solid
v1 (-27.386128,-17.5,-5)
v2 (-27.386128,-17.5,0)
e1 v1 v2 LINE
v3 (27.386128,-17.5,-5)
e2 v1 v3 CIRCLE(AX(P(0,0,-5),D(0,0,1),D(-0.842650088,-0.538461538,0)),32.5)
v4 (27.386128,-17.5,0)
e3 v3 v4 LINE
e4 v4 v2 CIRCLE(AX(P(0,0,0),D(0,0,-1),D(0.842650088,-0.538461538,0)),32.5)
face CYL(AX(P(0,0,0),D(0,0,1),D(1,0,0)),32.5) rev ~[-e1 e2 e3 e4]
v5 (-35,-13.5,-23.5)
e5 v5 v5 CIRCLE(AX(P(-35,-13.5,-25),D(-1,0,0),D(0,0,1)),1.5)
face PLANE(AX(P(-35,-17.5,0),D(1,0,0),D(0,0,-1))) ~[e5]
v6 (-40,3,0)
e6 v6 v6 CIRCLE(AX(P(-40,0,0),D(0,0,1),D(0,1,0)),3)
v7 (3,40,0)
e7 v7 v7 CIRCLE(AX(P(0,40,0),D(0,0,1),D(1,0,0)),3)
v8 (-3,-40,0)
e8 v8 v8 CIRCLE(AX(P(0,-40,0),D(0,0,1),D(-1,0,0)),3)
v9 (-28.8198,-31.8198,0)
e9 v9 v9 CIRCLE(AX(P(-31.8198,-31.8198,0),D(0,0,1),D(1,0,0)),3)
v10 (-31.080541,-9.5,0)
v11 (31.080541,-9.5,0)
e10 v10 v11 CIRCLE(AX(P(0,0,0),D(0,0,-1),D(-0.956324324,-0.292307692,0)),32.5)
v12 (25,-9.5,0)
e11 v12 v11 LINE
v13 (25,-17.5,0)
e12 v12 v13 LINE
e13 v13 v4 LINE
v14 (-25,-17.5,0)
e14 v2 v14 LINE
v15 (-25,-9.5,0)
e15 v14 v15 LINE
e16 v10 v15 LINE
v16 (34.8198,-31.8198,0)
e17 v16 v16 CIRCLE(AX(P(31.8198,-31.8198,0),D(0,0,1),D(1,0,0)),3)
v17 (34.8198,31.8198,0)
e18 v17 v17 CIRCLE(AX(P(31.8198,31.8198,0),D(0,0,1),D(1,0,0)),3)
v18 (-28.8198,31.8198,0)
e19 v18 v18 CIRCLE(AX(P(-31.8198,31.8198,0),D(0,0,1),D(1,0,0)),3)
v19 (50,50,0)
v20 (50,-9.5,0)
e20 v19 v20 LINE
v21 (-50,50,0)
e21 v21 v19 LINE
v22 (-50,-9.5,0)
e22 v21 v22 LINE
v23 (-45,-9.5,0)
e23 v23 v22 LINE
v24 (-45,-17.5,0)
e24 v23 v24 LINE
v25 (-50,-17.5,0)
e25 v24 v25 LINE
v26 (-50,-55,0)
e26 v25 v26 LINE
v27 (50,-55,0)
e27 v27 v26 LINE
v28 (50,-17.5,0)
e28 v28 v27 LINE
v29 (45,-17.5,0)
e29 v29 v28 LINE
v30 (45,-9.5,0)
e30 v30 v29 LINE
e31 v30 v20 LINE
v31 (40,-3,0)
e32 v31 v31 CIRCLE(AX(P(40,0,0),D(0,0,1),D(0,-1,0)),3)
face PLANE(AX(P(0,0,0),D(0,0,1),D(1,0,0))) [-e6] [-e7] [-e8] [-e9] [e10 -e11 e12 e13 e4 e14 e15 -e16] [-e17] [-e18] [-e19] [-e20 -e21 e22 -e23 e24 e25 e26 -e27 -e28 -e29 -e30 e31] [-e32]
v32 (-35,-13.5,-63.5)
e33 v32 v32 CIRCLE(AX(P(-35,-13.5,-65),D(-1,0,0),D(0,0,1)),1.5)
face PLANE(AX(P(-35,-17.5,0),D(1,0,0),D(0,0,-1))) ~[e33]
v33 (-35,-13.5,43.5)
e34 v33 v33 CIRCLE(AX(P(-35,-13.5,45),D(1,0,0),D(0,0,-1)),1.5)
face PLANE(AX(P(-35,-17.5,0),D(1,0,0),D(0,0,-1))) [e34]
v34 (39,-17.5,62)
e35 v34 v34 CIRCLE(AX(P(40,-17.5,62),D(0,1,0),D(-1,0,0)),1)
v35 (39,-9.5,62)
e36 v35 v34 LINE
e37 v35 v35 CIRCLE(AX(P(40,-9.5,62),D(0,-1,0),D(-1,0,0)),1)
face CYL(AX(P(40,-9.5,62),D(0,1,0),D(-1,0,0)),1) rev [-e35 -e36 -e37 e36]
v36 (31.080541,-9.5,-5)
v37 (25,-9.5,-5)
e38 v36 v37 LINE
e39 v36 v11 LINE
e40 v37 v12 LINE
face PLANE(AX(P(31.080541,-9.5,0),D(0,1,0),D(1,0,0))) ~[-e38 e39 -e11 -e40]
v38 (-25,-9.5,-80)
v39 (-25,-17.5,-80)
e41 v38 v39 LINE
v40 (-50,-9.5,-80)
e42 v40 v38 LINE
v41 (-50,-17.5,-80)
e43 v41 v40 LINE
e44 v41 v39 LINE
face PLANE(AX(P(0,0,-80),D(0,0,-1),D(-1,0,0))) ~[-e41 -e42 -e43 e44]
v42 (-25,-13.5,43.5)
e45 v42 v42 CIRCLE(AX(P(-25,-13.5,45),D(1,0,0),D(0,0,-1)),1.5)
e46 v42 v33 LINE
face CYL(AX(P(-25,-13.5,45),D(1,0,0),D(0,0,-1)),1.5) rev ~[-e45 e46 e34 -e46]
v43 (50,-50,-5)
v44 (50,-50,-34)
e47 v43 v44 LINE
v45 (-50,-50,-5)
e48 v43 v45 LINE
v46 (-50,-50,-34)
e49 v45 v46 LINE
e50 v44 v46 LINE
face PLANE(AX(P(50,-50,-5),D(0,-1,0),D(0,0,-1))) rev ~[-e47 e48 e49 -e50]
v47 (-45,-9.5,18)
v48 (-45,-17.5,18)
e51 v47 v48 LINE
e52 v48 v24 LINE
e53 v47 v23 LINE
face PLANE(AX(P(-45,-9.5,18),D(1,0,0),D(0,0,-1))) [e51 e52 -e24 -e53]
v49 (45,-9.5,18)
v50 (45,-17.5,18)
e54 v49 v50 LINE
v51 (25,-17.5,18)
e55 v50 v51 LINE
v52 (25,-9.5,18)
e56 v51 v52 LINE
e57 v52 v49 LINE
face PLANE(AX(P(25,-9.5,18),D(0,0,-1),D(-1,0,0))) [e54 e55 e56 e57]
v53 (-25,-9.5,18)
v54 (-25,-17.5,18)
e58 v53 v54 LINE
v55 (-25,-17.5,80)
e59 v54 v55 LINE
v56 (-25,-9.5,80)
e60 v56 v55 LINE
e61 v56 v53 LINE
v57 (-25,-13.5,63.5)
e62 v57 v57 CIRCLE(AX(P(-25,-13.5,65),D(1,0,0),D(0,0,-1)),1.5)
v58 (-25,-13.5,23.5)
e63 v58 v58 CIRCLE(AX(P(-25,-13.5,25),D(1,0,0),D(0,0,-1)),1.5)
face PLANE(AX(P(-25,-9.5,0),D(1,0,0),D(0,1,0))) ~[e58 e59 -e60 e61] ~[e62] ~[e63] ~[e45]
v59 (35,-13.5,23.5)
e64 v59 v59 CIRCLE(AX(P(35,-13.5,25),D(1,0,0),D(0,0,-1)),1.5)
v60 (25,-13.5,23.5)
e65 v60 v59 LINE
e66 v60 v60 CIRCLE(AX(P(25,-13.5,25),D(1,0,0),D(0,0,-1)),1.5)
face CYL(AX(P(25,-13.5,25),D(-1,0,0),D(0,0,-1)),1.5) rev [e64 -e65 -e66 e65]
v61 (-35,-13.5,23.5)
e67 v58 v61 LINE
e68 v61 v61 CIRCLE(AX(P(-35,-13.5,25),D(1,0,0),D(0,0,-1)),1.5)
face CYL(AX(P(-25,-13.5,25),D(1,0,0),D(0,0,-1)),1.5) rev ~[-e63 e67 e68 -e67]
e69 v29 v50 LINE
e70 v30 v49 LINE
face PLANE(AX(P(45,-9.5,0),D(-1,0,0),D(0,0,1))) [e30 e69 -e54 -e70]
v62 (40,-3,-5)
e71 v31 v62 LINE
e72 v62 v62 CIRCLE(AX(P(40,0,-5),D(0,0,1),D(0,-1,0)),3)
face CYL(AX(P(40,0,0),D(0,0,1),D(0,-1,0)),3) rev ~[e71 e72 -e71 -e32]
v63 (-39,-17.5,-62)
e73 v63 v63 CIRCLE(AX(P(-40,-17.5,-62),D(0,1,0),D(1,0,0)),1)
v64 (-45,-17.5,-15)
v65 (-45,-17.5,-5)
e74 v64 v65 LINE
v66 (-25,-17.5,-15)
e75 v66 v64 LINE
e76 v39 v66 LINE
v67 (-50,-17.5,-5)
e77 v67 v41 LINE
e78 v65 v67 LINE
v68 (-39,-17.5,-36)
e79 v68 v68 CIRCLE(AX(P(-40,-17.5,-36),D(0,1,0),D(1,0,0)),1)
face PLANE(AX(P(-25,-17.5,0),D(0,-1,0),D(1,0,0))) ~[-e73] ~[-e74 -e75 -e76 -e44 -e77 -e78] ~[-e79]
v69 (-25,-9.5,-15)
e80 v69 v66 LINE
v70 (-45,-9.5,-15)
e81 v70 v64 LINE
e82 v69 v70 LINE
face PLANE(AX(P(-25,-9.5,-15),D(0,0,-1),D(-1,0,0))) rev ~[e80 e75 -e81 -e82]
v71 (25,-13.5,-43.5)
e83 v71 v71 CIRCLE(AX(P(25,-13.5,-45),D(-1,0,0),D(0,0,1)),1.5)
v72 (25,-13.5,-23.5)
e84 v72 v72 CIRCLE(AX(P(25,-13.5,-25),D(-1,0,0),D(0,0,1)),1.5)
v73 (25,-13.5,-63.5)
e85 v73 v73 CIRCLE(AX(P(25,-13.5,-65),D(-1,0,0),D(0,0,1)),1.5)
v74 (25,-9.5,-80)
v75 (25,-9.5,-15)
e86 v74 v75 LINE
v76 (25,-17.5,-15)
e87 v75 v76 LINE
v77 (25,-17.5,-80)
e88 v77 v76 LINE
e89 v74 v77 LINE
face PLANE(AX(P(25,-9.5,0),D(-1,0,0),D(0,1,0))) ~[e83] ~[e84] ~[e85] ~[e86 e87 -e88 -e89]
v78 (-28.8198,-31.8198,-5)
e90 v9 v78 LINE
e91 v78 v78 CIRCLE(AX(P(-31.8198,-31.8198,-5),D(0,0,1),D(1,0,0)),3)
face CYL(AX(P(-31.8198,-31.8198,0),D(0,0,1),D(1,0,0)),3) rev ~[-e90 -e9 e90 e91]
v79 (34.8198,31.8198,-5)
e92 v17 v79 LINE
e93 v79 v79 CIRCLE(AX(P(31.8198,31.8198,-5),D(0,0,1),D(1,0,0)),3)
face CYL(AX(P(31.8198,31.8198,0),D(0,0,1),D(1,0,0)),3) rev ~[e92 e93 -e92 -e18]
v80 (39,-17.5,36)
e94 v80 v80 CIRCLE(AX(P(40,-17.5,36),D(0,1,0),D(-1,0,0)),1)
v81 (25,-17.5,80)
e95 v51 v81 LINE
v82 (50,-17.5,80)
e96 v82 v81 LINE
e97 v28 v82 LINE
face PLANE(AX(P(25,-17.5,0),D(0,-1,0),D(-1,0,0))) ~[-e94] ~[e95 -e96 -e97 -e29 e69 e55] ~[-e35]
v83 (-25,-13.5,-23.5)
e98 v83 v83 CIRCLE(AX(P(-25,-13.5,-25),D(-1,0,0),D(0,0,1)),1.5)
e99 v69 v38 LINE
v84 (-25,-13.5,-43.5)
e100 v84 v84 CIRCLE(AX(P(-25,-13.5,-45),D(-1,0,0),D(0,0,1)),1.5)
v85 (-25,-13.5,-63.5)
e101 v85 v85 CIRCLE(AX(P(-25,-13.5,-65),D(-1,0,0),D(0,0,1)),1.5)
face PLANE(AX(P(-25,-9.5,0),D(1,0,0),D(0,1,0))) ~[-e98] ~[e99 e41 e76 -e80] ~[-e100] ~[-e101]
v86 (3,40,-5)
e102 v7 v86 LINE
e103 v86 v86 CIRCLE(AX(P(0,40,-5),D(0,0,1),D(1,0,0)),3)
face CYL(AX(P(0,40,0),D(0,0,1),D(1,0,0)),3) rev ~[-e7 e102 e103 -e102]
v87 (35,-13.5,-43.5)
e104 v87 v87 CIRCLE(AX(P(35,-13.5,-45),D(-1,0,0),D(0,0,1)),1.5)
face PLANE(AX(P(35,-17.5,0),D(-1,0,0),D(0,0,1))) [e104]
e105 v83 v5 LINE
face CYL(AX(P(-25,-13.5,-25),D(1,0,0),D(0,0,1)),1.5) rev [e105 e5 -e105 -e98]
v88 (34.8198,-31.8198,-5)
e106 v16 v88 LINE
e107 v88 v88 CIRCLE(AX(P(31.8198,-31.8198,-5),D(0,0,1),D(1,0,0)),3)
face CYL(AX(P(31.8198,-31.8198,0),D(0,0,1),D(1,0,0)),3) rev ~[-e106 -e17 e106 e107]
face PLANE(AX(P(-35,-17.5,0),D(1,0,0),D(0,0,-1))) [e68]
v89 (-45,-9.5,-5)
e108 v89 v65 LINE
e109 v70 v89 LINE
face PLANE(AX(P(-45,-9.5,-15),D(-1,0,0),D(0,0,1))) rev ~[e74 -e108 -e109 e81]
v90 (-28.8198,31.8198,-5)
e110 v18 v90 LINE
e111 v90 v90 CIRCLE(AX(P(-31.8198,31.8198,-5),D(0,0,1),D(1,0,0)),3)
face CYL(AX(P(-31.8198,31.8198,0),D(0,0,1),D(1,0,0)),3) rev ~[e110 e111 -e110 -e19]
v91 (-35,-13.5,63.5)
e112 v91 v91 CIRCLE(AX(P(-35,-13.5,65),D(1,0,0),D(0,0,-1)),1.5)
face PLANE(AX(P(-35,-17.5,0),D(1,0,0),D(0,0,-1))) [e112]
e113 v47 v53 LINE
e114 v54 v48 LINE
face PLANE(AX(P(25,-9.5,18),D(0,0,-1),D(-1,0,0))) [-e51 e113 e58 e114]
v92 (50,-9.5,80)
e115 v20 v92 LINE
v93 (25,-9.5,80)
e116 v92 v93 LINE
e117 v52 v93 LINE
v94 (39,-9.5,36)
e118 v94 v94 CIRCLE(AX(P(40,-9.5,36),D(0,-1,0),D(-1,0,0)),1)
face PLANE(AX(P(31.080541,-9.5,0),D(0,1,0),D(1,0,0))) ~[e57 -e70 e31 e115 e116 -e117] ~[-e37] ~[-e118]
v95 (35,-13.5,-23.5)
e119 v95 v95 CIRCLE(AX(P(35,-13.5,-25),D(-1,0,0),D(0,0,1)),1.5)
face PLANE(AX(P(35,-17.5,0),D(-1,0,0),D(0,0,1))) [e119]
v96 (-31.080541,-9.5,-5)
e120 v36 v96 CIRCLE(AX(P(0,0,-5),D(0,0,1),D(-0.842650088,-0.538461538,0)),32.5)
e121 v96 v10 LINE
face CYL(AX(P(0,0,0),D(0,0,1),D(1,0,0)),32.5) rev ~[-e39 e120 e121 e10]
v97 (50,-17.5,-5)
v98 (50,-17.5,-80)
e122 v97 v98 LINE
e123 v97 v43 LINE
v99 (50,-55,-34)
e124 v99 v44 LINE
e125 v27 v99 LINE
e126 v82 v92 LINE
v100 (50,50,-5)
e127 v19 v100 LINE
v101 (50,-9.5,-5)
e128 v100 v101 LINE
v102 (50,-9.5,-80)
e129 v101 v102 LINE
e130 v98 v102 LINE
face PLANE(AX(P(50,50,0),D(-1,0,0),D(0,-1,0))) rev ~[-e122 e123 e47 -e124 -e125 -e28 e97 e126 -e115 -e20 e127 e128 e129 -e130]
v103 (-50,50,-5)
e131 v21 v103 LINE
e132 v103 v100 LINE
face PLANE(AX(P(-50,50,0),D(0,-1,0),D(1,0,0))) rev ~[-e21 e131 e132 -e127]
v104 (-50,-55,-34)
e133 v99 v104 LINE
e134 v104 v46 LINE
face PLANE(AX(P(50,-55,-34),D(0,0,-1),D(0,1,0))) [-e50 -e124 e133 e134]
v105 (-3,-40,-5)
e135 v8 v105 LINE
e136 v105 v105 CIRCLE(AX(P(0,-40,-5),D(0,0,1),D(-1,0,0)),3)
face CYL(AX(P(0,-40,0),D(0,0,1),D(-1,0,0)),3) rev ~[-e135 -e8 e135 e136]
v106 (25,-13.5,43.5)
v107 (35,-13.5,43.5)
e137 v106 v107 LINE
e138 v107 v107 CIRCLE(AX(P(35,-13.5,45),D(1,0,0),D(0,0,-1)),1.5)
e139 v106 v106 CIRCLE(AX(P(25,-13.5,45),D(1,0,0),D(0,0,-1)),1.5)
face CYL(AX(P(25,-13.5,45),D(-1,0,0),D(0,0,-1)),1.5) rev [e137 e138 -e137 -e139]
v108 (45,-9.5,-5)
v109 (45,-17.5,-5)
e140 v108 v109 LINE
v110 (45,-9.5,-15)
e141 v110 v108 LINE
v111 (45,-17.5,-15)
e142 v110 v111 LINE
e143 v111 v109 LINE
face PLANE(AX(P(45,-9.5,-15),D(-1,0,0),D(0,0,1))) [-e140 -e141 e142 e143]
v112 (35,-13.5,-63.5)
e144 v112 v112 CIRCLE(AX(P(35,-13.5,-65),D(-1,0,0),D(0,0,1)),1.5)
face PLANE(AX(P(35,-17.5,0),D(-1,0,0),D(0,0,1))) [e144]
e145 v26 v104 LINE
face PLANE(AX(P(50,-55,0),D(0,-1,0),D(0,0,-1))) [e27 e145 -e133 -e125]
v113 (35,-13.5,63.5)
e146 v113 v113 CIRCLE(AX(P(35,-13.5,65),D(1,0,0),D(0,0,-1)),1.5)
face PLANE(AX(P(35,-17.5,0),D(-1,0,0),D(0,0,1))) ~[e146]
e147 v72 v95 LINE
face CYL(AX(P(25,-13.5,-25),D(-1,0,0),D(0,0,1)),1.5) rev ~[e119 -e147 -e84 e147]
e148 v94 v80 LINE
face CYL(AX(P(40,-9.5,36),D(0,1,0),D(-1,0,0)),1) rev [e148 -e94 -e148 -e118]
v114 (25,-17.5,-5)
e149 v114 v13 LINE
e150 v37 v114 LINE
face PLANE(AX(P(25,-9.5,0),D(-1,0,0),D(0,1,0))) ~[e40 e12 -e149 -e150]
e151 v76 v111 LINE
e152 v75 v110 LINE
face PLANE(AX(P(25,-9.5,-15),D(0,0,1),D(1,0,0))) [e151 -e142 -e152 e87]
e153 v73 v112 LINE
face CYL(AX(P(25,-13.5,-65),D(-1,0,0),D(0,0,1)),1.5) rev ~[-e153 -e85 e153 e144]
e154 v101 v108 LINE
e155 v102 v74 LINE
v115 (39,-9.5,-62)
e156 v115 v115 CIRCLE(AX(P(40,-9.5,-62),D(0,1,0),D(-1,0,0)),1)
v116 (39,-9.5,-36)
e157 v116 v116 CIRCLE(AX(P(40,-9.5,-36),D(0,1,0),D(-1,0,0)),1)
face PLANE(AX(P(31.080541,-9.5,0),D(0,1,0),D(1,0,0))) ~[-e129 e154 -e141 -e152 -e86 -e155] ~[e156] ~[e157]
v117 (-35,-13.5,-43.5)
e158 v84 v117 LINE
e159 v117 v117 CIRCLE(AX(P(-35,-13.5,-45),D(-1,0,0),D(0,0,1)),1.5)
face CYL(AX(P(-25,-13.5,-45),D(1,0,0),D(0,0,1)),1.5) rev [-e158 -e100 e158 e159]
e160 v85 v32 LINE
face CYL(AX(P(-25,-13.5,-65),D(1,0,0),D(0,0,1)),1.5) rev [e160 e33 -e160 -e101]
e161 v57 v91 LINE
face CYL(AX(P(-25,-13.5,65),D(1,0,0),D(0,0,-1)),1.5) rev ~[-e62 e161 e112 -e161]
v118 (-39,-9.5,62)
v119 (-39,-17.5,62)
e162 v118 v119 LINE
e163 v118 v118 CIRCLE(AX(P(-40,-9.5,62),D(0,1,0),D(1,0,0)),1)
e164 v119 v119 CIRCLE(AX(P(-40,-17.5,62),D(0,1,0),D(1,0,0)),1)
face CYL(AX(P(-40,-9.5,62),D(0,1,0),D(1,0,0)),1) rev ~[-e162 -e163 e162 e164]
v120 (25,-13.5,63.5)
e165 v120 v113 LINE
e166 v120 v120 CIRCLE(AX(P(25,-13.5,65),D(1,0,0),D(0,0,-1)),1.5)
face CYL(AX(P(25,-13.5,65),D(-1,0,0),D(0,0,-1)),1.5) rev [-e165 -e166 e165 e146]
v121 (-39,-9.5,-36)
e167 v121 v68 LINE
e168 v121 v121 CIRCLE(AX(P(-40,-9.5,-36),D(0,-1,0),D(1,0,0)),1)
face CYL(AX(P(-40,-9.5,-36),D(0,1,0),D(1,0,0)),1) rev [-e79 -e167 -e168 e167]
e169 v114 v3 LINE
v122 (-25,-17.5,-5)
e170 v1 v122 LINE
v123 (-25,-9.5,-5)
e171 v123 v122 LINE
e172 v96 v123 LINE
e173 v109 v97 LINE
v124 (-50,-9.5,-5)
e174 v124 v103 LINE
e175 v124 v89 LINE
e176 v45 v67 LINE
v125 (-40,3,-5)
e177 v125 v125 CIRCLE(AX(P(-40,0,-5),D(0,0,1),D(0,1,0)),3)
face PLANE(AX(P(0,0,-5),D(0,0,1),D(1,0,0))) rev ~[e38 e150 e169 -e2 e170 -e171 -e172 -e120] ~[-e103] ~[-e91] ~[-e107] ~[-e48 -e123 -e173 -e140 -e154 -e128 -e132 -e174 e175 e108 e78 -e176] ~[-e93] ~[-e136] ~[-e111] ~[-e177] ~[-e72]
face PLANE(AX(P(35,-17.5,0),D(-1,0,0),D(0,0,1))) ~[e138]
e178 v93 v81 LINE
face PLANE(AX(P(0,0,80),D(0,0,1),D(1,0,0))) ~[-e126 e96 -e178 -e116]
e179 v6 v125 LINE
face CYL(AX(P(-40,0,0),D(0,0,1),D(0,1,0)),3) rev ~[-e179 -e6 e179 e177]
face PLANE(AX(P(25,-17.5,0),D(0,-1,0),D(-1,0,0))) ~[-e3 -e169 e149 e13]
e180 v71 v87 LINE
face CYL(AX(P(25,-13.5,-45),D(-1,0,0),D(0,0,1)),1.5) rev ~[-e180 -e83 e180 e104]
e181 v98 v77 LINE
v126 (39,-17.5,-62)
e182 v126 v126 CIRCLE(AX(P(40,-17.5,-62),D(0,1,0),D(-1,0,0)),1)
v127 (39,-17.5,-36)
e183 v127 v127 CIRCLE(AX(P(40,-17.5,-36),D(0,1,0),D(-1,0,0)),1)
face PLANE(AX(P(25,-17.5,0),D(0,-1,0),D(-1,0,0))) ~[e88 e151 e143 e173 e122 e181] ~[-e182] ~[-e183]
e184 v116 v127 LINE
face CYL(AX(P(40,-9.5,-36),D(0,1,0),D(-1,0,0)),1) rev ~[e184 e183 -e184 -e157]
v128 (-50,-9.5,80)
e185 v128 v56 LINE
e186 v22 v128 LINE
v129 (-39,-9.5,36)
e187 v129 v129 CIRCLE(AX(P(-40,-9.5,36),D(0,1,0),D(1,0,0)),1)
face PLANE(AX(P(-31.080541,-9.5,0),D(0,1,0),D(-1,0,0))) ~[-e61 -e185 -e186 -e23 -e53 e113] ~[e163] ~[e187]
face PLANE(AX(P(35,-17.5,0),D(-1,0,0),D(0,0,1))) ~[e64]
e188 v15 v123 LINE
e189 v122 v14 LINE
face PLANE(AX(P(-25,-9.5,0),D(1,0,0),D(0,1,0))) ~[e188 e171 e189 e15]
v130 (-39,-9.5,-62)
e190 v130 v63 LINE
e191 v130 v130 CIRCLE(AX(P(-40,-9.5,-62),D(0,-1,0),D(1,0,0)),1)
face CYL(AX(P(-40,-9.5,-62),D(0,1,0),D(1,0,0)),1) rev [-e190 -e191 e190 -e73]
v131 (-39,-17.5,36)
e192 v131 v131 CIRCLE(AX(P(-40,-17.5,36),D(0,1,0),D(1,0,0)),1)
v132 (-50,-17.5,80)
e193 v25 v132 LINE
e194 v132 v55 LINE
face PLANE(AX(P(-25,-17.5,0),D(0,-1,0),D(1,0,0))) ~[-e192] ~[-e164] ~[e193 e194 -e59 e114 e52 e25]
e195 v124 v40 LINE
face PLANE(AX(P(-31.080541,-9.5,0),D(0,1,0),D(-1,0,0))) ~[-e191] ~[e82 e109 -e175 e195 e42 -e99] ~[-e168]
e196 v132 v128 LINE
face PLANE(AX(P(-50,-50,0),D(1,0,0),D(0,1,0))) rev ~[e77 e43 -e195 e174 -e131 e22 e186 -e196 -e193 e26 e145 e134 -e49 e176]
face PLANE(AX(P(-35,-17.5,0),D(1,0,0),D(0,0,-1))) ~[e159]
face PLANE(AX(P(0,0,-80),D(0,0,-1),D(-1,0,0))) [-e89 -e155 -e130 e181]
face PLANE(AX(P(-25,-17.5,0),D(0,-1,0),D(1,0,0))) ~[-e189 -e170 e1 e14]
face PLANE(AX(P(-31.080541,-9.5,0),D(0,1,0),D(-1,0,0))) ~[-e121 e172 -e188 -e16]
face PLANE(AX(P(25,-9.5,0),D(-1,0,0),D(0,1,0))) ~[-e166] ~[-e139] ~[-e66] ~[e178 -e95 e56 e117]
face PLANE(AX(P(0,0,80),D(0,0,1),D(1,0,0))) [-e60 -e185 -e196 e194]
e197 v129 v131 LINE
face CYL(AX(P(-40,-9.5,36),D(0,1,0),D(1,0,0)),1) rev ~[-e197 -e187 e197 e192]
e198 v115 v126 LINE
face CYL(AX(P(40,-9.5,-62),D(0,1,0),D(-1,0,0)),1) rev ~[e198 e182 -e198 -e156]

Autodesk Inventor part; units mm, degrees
ref_plane "YZ Plane" through (0, 0, 0) normal (1, 0, 0) x (0, 1, 0)
ref_plane "XZ Plane" through (0, 0, 0) normal (0, 1, 0) x (-1, 0, 0)
sketch "Sketch1" plane through (0, 0, 0) normal (0, 0, 1) x (1, 0, 0)
  circle A0 centre (0, 0) radius 30 construction
  line L0 (0, 0) -> (0, 7.5) construction
  line L1 (0, 7.5) -> (10, 7.5) construction
  line L2 (10, 7.5) -> (10, 0) construction
  line L3 (10, 0) -> (0, 0) construction
  line L4 (0, 0) -> (-10, 0) construction
  line L5 (-10, 0) -> (-10, 7.5) construction
  line L6 (-10, 7.5) -> (0, 7.5) construction
  line L7 (-10, 0) -> (-10, -7.5) construction
  line L8 (-10, -7.5) -> (10, -7.5) construction
  line L9 (10, -7.5) -> (10, 0) construction
  circle A1 centre (-15.5891, 25.6316) radius 10 construction
  circle A2 centre (0, 0) radius 35 construction
  circle A3 centre (0, 0) radius 25 construction
  line L10 (0, 0) -> (-31.8198, 31.8198) construction
  circle A4 centre (0, 0) radius 45 construction
  line L11 (0, 0) -> (0, 45) construction
  circle A5 centre (0, 0) radius 40 construction
  circle A6 centre (-40, 0) radius 5 construction
  circle A7 centre (-31.8198, 31.8198) radius 10 construction
  line L12 (-31.8198, 31.8198) -> (-31.8198, -24.2384) construction
  line L13 (-31.8198, -24.2384) -> (-31.8198, -31.8198) construction
  circle A8 centre (-31.8198, -31.8198) radius 10 construction
  line L14 (-15, -20) -> (-15, -31.6228)
  line L15 (15, -20) -> (15, -31.6228)
  line L16 (-31.8198, 31.8198) -> (24.2384, 31.8198) construction
  line L17 (24.2384, 31.8198) -> (31.8198, 31.8198) construction
  line L18 (31.8198, 31.8198) -> (31.8198, -31.8198) construction
  line L19 (31.8198, -31.8198) -> (-31.8198, -31.8198) construction
  circle A9 centre (31.8198, 31.8198) radius 10 construction
  circle A10 centre (31.8198, -31.8198) radius 10 construction
  circle A11 centre (0, 40) radius 5 construction
  line L20 (0, 0) -> (40, 0) construction
  line L21 (0, 0) -> (0, -40) construction
  circle A12 centre (40, 0) radius 5 construction
  circle A13 centre (0, -40) radius 5 construction
  line L22 (50, 50) -> (50, -50)
  line L23 (50, -50) -> (-50, -50)
  line L24 (-50, -50) -> (-50, 50)
  line L25 (-50, 50) -> (50, 50)
  circle A14 centre (-31.8198, 31.8198) radius 3
  circle A15 centre (31.8198, 31.8198) radius 3
  circle A16 centre (31.8198, -31.8198) radius 3
  circle A17 centre (-31.8198, -31.8198) radius 3
  circle A18 centre (0, 0) radius 32.5
  point P0 (0, 50)
  dimension "d1" = 60
  dimension "d5" = 5
  dimension "d6" = 5
  dimension "d9" = 80
  dimension "d2" = 20
  dimension "d3" = 15
  dimension "d4" = 20
  dimension "d7" = 90
  dimension "d8" = 45
  dimension "d10" = 10
  dimension "d11" = 20
  dimension "d12" = 15
  dimension "d13" = 100
  dimension "d14" = 6
  dimension "d15" = 65
extrude "Extrusion1" add sketch "Sketch1" against normal blind 5
sketch "Sketch2" plane through (50, -50, 0) normal (1, 0, 0) x (0, 0, -1)
  line L0 (0, 0) -> (5, 0) projected
  line L1 (5, 0) -> (34, 0)
  line L2 (5, 0) -> (0, 0)
  line L3 (0, 0) -> (0, -5)
  line L4 (0, -5) -> (34, -5)
  line L5 (34, -5) -> (34, 0)
  dimension "d18" = 29
  dimension "d27" = 5
extrude "Extrusion2" add sketch "Sketch2" against normal up to surface (100 mm away)
ref_plane "Work Plane1" through (0, 0, 10.5) normal (0, 0, 1) x (1, 0, 0)
sketch "Sketch3" plane through (0, 0, 10.5) normal (0, 0, 1) x (1, 0, 0)
  line L0 (-8, -7.5) -> (8, -7.5)
  line L1 (10, -5.5) -> (10, 5.5)
  line L2 (8, 7.5) -> (-8, 7.5)
  line L3 (-10, 5.5) -> (-10, -5.5)
  arc A0 (-8, 7.5) -> (-10, 5.5) centre (-8, 5.5) ccw
  arc A1 (10, 5.5) -> (8, 7.5) centre (8, 5.5) ccw
  arc A2 (8, -7.5) -> (10, -5.5) centre (8, -5.5) ccw
  arc A3 (-10, -5.5) -> (-8, -7.5) centre (-8, -5.5) ccw
  point P0 (0, 0)
  point P1 (10, 7.5)
  point P2 (10, -7.5)
  point P3 (-10, 7.5)
  dimension "d22" = 20
  dimension "d23" = 15
  dimension "d24" = 7.5
  dimension "d25" = 10
  dimension "d26" = 2
sketch "Sketch4" plane through (0, 0, 0) normal (0, 0, 1) x (1, 0, 0)
  circle A0 centre (0, 0) radius 32.5 projected
  line L0 (50, -55) -> (-50, -55) projected
  line L1 (0, 0) -> (-32.5, 0) construction
  line L2 (0, 0) -> (0, -7.5) construction
  line L3 (0, -7.5) -> (-10, -7.5) construction
  line L4 (-10, -7.5) -> (-55, -7.5) construction
  line L5 (-50, -9.5) -> (-25, -9.5)
  line L6 (-25, -9.5) -> (-25, -17.5)
  line L7 (-25, -17.5) -> (-50, -17.5)
  line L8 (-50, -17.5) -> (-50, -9.5)
  line L9 (-25, -13.5) -> (-50, -13.5) construction
  line L10 (-50, 50) -> (-50, -55) projected
  dimension "d28" = 7.5
  dimension "d29" = 10
  dimension "d30" = 6
  dimension "d31" = 8
  dimension "d32" = 25
  dimension "d44" = 0
extrude "Extrusion3" add sketch "Sketch4" along normal blind 80 contours L5 L6 L7 A0 | A0 L7 L8 L5 picked at (-26.286, -13.9829)
sketch "Sketch5" plane through (-25, -17.5, 0) normal (1, 0, 0) x (0, 0, -1)
  line L0 (-80, 8) -> (-80, 0) projected
  line L1 (0, 4) -> (-80, 4) construction
  circle A0 centre (-25, 4) radius 1.5
  circle A1 centre (-45, 4) radius 1.5
  circle A2 centre (-65, 4) radius 1.5
  circle A3 centre (-25, 4) radius 6 construction
  circle A4 centre (-45, 4) radius 6 construction
  circle A5 centre (-65, 4) radius 6 construction
  line L2 (0, 67.5) -> (0, -37.5) projected
  dimension "d36" = 3
  dimension "d38" = 12
  dimension "d39" = 20
  dimension "d40" = 20
  dimension "d43" = 25
extrude "Extrusion4" cut sketch "Sketch5" against normal blind 10
mirror "Mirror1" about plane through (0, 0, 0) normal (1, 0, 0) of "Extrusion3", "Extrusion4"
mirror "Mirror2" about plane through (0, 0, 0) normal (0, 0, 1) of "Extrusion3", "Extrusion4", "Mirror1"
sketch "Sketch6" plane through (-50, -9.5, -5) normal (0, 1, 0) x (1, 0, 0)
  line L0 (18.9195, 0) -> (0, 0) construction
  line L1 (100, 0) -> (81.0805, 0) construction
  line L2 (100, 0) -> (100, 75) projected
  line L3 (100, 75) -> (75, 75) projected
  line L4 (0, 0) -> (25, 0)
  line L5 (25, 0) -> (25, 10)
  line L6 (25, 10) -> (0, 10) construction
  line L7 (0, 10) -> (0, 0) construction
  line L8 (75, 0) -> (100, 0)
  line L9 (100, 0) -> (100, 10) construction
  line L10 (100, 10) -> (75, 10) construction
  line L11 (75, 10) -> (75, 0)
  line L12 (5, 10) -> (5, 0)
  line L13 (95, 10) -> (95, 0)
  line L14 (95, 0) -> (75, 0)
  line L15 (75, 0) -> (75, 10)
  line L16 (75, 10) -> (95, 10)
  line L17 (95, 10) -> (95, 0)
  line L18 (5, 0) -> (25, 0)
  line L19 (25, 0) -> (25, 10)
  line L20 (25, 10) -> (5, 10)
  line L21 (5, 10) -> (5, 0)
  line L22 (100, -85) -> (75, -85) projected
  line L23 (100, -5) -> (100, -85) projected
  line L24 (81.0805, -5) -> (100, -5) projected
  line L25 (81.0805, 0) -> (81.0805, -5) projected
  line L26 (75, 75) -> (75, -85) projected
  line L27 (25, -85) -> (25, 75) projected
  dimension "d45" = 10
  dimension "d46" = 10
  dimension "d49" = 5
  dimension "d50" = 5
  dimension "d56" = 0
  dimension "d57" = 0
extrude "Extrusion5" cut sketch "Sketch6" against normal blind 10 contours L8 L11 L16 L13 | L12 L20 L5 L4
sketch "Sketch7" plane through (-50, -9.5, 0) normal (0, 1, 0) x (1, 0, 0)
  line L0 (0, 0) -> (18.9195, 0) projected
  line L1 (5, 0) -> (95, 0)
  line L2 (95, 0) -> (95, -18)
  line L3 (95, -18) -> (5, -18)
  line L4 (5, -18) -> (5, 0)
  line L5 (75, 80) -> (75, -80) projected
  line L6 (100, 0) -> (100, -80) projected
  line L7 (5, 5) -> (5, 15) projected
  line L8 (95, 15) -> (95, 5) projected
  point P0 (25, -80)
  point P1 (15, 0)
  point P2 (85, 0)
  dimension "d55" = 18
  dimension "d58" = 0
  dimension "d59" = 0
extrude "Extrusion6" cut sketch "Sketch7" against normal blind 10
sketch "Sketch8" plane through (0, 0, 0) normal (0, 0, 1) x (1, 0, 0)
  line L0 (-31.0805, -9.5) -> (-25, -9.5) projected
  arc A0 (31.0805, -9.5) -> (-31.0805, -9.5) centre (0, 0) ccw projected
  circle A1 centre (0, 0) radius 40 construction
  line L1 (0, 0) -> (0, 40) construction
  circle A2 centre (0, 40) radius 3
  dimension "d61" = 80
  dimension "d60" = 6
extrude "Extrusion7" cut sketch "Sketch8" against normal blind 10
pattern_circular "Circular Pattern1" count 4 over 360 about axis through (0, 0, 0) along (0, 0, -1) of "Extrusion7"
sketch "Sketch9" plane through (-50, -9.5, 80) normal (0, 1, 0) x (1, 0, 0)
  line L0 (0, 80) -> (0, 0) projected
  line L1 (12.5, 31) -> (0, 31) construction
  circle A0 centre (10, 44) radius 1
  circle A1 centre (10, 18) radius 1
  line L2 (18.9195, 80) -> (18.9195, 85) projected
  line L3 (10, 44) -> (10, 18) construction
  dimension "d67" = 2
  dimension "d68" = 13
  dimension "d69" = 13
  dimension "d72" = 10
extrude "Extrusion8" cut sketch "Sketch9" against normal blind 10
mirror "Mirror3" about plane through (0, 0, 0) normal (1, 0, 0) of "Extrusion8"
mirror "Mirror4" about plane through (0, 0, 0) normal (0, 0, 1) of "Extrusion8", "Mirror3"
properties part number "Base"
